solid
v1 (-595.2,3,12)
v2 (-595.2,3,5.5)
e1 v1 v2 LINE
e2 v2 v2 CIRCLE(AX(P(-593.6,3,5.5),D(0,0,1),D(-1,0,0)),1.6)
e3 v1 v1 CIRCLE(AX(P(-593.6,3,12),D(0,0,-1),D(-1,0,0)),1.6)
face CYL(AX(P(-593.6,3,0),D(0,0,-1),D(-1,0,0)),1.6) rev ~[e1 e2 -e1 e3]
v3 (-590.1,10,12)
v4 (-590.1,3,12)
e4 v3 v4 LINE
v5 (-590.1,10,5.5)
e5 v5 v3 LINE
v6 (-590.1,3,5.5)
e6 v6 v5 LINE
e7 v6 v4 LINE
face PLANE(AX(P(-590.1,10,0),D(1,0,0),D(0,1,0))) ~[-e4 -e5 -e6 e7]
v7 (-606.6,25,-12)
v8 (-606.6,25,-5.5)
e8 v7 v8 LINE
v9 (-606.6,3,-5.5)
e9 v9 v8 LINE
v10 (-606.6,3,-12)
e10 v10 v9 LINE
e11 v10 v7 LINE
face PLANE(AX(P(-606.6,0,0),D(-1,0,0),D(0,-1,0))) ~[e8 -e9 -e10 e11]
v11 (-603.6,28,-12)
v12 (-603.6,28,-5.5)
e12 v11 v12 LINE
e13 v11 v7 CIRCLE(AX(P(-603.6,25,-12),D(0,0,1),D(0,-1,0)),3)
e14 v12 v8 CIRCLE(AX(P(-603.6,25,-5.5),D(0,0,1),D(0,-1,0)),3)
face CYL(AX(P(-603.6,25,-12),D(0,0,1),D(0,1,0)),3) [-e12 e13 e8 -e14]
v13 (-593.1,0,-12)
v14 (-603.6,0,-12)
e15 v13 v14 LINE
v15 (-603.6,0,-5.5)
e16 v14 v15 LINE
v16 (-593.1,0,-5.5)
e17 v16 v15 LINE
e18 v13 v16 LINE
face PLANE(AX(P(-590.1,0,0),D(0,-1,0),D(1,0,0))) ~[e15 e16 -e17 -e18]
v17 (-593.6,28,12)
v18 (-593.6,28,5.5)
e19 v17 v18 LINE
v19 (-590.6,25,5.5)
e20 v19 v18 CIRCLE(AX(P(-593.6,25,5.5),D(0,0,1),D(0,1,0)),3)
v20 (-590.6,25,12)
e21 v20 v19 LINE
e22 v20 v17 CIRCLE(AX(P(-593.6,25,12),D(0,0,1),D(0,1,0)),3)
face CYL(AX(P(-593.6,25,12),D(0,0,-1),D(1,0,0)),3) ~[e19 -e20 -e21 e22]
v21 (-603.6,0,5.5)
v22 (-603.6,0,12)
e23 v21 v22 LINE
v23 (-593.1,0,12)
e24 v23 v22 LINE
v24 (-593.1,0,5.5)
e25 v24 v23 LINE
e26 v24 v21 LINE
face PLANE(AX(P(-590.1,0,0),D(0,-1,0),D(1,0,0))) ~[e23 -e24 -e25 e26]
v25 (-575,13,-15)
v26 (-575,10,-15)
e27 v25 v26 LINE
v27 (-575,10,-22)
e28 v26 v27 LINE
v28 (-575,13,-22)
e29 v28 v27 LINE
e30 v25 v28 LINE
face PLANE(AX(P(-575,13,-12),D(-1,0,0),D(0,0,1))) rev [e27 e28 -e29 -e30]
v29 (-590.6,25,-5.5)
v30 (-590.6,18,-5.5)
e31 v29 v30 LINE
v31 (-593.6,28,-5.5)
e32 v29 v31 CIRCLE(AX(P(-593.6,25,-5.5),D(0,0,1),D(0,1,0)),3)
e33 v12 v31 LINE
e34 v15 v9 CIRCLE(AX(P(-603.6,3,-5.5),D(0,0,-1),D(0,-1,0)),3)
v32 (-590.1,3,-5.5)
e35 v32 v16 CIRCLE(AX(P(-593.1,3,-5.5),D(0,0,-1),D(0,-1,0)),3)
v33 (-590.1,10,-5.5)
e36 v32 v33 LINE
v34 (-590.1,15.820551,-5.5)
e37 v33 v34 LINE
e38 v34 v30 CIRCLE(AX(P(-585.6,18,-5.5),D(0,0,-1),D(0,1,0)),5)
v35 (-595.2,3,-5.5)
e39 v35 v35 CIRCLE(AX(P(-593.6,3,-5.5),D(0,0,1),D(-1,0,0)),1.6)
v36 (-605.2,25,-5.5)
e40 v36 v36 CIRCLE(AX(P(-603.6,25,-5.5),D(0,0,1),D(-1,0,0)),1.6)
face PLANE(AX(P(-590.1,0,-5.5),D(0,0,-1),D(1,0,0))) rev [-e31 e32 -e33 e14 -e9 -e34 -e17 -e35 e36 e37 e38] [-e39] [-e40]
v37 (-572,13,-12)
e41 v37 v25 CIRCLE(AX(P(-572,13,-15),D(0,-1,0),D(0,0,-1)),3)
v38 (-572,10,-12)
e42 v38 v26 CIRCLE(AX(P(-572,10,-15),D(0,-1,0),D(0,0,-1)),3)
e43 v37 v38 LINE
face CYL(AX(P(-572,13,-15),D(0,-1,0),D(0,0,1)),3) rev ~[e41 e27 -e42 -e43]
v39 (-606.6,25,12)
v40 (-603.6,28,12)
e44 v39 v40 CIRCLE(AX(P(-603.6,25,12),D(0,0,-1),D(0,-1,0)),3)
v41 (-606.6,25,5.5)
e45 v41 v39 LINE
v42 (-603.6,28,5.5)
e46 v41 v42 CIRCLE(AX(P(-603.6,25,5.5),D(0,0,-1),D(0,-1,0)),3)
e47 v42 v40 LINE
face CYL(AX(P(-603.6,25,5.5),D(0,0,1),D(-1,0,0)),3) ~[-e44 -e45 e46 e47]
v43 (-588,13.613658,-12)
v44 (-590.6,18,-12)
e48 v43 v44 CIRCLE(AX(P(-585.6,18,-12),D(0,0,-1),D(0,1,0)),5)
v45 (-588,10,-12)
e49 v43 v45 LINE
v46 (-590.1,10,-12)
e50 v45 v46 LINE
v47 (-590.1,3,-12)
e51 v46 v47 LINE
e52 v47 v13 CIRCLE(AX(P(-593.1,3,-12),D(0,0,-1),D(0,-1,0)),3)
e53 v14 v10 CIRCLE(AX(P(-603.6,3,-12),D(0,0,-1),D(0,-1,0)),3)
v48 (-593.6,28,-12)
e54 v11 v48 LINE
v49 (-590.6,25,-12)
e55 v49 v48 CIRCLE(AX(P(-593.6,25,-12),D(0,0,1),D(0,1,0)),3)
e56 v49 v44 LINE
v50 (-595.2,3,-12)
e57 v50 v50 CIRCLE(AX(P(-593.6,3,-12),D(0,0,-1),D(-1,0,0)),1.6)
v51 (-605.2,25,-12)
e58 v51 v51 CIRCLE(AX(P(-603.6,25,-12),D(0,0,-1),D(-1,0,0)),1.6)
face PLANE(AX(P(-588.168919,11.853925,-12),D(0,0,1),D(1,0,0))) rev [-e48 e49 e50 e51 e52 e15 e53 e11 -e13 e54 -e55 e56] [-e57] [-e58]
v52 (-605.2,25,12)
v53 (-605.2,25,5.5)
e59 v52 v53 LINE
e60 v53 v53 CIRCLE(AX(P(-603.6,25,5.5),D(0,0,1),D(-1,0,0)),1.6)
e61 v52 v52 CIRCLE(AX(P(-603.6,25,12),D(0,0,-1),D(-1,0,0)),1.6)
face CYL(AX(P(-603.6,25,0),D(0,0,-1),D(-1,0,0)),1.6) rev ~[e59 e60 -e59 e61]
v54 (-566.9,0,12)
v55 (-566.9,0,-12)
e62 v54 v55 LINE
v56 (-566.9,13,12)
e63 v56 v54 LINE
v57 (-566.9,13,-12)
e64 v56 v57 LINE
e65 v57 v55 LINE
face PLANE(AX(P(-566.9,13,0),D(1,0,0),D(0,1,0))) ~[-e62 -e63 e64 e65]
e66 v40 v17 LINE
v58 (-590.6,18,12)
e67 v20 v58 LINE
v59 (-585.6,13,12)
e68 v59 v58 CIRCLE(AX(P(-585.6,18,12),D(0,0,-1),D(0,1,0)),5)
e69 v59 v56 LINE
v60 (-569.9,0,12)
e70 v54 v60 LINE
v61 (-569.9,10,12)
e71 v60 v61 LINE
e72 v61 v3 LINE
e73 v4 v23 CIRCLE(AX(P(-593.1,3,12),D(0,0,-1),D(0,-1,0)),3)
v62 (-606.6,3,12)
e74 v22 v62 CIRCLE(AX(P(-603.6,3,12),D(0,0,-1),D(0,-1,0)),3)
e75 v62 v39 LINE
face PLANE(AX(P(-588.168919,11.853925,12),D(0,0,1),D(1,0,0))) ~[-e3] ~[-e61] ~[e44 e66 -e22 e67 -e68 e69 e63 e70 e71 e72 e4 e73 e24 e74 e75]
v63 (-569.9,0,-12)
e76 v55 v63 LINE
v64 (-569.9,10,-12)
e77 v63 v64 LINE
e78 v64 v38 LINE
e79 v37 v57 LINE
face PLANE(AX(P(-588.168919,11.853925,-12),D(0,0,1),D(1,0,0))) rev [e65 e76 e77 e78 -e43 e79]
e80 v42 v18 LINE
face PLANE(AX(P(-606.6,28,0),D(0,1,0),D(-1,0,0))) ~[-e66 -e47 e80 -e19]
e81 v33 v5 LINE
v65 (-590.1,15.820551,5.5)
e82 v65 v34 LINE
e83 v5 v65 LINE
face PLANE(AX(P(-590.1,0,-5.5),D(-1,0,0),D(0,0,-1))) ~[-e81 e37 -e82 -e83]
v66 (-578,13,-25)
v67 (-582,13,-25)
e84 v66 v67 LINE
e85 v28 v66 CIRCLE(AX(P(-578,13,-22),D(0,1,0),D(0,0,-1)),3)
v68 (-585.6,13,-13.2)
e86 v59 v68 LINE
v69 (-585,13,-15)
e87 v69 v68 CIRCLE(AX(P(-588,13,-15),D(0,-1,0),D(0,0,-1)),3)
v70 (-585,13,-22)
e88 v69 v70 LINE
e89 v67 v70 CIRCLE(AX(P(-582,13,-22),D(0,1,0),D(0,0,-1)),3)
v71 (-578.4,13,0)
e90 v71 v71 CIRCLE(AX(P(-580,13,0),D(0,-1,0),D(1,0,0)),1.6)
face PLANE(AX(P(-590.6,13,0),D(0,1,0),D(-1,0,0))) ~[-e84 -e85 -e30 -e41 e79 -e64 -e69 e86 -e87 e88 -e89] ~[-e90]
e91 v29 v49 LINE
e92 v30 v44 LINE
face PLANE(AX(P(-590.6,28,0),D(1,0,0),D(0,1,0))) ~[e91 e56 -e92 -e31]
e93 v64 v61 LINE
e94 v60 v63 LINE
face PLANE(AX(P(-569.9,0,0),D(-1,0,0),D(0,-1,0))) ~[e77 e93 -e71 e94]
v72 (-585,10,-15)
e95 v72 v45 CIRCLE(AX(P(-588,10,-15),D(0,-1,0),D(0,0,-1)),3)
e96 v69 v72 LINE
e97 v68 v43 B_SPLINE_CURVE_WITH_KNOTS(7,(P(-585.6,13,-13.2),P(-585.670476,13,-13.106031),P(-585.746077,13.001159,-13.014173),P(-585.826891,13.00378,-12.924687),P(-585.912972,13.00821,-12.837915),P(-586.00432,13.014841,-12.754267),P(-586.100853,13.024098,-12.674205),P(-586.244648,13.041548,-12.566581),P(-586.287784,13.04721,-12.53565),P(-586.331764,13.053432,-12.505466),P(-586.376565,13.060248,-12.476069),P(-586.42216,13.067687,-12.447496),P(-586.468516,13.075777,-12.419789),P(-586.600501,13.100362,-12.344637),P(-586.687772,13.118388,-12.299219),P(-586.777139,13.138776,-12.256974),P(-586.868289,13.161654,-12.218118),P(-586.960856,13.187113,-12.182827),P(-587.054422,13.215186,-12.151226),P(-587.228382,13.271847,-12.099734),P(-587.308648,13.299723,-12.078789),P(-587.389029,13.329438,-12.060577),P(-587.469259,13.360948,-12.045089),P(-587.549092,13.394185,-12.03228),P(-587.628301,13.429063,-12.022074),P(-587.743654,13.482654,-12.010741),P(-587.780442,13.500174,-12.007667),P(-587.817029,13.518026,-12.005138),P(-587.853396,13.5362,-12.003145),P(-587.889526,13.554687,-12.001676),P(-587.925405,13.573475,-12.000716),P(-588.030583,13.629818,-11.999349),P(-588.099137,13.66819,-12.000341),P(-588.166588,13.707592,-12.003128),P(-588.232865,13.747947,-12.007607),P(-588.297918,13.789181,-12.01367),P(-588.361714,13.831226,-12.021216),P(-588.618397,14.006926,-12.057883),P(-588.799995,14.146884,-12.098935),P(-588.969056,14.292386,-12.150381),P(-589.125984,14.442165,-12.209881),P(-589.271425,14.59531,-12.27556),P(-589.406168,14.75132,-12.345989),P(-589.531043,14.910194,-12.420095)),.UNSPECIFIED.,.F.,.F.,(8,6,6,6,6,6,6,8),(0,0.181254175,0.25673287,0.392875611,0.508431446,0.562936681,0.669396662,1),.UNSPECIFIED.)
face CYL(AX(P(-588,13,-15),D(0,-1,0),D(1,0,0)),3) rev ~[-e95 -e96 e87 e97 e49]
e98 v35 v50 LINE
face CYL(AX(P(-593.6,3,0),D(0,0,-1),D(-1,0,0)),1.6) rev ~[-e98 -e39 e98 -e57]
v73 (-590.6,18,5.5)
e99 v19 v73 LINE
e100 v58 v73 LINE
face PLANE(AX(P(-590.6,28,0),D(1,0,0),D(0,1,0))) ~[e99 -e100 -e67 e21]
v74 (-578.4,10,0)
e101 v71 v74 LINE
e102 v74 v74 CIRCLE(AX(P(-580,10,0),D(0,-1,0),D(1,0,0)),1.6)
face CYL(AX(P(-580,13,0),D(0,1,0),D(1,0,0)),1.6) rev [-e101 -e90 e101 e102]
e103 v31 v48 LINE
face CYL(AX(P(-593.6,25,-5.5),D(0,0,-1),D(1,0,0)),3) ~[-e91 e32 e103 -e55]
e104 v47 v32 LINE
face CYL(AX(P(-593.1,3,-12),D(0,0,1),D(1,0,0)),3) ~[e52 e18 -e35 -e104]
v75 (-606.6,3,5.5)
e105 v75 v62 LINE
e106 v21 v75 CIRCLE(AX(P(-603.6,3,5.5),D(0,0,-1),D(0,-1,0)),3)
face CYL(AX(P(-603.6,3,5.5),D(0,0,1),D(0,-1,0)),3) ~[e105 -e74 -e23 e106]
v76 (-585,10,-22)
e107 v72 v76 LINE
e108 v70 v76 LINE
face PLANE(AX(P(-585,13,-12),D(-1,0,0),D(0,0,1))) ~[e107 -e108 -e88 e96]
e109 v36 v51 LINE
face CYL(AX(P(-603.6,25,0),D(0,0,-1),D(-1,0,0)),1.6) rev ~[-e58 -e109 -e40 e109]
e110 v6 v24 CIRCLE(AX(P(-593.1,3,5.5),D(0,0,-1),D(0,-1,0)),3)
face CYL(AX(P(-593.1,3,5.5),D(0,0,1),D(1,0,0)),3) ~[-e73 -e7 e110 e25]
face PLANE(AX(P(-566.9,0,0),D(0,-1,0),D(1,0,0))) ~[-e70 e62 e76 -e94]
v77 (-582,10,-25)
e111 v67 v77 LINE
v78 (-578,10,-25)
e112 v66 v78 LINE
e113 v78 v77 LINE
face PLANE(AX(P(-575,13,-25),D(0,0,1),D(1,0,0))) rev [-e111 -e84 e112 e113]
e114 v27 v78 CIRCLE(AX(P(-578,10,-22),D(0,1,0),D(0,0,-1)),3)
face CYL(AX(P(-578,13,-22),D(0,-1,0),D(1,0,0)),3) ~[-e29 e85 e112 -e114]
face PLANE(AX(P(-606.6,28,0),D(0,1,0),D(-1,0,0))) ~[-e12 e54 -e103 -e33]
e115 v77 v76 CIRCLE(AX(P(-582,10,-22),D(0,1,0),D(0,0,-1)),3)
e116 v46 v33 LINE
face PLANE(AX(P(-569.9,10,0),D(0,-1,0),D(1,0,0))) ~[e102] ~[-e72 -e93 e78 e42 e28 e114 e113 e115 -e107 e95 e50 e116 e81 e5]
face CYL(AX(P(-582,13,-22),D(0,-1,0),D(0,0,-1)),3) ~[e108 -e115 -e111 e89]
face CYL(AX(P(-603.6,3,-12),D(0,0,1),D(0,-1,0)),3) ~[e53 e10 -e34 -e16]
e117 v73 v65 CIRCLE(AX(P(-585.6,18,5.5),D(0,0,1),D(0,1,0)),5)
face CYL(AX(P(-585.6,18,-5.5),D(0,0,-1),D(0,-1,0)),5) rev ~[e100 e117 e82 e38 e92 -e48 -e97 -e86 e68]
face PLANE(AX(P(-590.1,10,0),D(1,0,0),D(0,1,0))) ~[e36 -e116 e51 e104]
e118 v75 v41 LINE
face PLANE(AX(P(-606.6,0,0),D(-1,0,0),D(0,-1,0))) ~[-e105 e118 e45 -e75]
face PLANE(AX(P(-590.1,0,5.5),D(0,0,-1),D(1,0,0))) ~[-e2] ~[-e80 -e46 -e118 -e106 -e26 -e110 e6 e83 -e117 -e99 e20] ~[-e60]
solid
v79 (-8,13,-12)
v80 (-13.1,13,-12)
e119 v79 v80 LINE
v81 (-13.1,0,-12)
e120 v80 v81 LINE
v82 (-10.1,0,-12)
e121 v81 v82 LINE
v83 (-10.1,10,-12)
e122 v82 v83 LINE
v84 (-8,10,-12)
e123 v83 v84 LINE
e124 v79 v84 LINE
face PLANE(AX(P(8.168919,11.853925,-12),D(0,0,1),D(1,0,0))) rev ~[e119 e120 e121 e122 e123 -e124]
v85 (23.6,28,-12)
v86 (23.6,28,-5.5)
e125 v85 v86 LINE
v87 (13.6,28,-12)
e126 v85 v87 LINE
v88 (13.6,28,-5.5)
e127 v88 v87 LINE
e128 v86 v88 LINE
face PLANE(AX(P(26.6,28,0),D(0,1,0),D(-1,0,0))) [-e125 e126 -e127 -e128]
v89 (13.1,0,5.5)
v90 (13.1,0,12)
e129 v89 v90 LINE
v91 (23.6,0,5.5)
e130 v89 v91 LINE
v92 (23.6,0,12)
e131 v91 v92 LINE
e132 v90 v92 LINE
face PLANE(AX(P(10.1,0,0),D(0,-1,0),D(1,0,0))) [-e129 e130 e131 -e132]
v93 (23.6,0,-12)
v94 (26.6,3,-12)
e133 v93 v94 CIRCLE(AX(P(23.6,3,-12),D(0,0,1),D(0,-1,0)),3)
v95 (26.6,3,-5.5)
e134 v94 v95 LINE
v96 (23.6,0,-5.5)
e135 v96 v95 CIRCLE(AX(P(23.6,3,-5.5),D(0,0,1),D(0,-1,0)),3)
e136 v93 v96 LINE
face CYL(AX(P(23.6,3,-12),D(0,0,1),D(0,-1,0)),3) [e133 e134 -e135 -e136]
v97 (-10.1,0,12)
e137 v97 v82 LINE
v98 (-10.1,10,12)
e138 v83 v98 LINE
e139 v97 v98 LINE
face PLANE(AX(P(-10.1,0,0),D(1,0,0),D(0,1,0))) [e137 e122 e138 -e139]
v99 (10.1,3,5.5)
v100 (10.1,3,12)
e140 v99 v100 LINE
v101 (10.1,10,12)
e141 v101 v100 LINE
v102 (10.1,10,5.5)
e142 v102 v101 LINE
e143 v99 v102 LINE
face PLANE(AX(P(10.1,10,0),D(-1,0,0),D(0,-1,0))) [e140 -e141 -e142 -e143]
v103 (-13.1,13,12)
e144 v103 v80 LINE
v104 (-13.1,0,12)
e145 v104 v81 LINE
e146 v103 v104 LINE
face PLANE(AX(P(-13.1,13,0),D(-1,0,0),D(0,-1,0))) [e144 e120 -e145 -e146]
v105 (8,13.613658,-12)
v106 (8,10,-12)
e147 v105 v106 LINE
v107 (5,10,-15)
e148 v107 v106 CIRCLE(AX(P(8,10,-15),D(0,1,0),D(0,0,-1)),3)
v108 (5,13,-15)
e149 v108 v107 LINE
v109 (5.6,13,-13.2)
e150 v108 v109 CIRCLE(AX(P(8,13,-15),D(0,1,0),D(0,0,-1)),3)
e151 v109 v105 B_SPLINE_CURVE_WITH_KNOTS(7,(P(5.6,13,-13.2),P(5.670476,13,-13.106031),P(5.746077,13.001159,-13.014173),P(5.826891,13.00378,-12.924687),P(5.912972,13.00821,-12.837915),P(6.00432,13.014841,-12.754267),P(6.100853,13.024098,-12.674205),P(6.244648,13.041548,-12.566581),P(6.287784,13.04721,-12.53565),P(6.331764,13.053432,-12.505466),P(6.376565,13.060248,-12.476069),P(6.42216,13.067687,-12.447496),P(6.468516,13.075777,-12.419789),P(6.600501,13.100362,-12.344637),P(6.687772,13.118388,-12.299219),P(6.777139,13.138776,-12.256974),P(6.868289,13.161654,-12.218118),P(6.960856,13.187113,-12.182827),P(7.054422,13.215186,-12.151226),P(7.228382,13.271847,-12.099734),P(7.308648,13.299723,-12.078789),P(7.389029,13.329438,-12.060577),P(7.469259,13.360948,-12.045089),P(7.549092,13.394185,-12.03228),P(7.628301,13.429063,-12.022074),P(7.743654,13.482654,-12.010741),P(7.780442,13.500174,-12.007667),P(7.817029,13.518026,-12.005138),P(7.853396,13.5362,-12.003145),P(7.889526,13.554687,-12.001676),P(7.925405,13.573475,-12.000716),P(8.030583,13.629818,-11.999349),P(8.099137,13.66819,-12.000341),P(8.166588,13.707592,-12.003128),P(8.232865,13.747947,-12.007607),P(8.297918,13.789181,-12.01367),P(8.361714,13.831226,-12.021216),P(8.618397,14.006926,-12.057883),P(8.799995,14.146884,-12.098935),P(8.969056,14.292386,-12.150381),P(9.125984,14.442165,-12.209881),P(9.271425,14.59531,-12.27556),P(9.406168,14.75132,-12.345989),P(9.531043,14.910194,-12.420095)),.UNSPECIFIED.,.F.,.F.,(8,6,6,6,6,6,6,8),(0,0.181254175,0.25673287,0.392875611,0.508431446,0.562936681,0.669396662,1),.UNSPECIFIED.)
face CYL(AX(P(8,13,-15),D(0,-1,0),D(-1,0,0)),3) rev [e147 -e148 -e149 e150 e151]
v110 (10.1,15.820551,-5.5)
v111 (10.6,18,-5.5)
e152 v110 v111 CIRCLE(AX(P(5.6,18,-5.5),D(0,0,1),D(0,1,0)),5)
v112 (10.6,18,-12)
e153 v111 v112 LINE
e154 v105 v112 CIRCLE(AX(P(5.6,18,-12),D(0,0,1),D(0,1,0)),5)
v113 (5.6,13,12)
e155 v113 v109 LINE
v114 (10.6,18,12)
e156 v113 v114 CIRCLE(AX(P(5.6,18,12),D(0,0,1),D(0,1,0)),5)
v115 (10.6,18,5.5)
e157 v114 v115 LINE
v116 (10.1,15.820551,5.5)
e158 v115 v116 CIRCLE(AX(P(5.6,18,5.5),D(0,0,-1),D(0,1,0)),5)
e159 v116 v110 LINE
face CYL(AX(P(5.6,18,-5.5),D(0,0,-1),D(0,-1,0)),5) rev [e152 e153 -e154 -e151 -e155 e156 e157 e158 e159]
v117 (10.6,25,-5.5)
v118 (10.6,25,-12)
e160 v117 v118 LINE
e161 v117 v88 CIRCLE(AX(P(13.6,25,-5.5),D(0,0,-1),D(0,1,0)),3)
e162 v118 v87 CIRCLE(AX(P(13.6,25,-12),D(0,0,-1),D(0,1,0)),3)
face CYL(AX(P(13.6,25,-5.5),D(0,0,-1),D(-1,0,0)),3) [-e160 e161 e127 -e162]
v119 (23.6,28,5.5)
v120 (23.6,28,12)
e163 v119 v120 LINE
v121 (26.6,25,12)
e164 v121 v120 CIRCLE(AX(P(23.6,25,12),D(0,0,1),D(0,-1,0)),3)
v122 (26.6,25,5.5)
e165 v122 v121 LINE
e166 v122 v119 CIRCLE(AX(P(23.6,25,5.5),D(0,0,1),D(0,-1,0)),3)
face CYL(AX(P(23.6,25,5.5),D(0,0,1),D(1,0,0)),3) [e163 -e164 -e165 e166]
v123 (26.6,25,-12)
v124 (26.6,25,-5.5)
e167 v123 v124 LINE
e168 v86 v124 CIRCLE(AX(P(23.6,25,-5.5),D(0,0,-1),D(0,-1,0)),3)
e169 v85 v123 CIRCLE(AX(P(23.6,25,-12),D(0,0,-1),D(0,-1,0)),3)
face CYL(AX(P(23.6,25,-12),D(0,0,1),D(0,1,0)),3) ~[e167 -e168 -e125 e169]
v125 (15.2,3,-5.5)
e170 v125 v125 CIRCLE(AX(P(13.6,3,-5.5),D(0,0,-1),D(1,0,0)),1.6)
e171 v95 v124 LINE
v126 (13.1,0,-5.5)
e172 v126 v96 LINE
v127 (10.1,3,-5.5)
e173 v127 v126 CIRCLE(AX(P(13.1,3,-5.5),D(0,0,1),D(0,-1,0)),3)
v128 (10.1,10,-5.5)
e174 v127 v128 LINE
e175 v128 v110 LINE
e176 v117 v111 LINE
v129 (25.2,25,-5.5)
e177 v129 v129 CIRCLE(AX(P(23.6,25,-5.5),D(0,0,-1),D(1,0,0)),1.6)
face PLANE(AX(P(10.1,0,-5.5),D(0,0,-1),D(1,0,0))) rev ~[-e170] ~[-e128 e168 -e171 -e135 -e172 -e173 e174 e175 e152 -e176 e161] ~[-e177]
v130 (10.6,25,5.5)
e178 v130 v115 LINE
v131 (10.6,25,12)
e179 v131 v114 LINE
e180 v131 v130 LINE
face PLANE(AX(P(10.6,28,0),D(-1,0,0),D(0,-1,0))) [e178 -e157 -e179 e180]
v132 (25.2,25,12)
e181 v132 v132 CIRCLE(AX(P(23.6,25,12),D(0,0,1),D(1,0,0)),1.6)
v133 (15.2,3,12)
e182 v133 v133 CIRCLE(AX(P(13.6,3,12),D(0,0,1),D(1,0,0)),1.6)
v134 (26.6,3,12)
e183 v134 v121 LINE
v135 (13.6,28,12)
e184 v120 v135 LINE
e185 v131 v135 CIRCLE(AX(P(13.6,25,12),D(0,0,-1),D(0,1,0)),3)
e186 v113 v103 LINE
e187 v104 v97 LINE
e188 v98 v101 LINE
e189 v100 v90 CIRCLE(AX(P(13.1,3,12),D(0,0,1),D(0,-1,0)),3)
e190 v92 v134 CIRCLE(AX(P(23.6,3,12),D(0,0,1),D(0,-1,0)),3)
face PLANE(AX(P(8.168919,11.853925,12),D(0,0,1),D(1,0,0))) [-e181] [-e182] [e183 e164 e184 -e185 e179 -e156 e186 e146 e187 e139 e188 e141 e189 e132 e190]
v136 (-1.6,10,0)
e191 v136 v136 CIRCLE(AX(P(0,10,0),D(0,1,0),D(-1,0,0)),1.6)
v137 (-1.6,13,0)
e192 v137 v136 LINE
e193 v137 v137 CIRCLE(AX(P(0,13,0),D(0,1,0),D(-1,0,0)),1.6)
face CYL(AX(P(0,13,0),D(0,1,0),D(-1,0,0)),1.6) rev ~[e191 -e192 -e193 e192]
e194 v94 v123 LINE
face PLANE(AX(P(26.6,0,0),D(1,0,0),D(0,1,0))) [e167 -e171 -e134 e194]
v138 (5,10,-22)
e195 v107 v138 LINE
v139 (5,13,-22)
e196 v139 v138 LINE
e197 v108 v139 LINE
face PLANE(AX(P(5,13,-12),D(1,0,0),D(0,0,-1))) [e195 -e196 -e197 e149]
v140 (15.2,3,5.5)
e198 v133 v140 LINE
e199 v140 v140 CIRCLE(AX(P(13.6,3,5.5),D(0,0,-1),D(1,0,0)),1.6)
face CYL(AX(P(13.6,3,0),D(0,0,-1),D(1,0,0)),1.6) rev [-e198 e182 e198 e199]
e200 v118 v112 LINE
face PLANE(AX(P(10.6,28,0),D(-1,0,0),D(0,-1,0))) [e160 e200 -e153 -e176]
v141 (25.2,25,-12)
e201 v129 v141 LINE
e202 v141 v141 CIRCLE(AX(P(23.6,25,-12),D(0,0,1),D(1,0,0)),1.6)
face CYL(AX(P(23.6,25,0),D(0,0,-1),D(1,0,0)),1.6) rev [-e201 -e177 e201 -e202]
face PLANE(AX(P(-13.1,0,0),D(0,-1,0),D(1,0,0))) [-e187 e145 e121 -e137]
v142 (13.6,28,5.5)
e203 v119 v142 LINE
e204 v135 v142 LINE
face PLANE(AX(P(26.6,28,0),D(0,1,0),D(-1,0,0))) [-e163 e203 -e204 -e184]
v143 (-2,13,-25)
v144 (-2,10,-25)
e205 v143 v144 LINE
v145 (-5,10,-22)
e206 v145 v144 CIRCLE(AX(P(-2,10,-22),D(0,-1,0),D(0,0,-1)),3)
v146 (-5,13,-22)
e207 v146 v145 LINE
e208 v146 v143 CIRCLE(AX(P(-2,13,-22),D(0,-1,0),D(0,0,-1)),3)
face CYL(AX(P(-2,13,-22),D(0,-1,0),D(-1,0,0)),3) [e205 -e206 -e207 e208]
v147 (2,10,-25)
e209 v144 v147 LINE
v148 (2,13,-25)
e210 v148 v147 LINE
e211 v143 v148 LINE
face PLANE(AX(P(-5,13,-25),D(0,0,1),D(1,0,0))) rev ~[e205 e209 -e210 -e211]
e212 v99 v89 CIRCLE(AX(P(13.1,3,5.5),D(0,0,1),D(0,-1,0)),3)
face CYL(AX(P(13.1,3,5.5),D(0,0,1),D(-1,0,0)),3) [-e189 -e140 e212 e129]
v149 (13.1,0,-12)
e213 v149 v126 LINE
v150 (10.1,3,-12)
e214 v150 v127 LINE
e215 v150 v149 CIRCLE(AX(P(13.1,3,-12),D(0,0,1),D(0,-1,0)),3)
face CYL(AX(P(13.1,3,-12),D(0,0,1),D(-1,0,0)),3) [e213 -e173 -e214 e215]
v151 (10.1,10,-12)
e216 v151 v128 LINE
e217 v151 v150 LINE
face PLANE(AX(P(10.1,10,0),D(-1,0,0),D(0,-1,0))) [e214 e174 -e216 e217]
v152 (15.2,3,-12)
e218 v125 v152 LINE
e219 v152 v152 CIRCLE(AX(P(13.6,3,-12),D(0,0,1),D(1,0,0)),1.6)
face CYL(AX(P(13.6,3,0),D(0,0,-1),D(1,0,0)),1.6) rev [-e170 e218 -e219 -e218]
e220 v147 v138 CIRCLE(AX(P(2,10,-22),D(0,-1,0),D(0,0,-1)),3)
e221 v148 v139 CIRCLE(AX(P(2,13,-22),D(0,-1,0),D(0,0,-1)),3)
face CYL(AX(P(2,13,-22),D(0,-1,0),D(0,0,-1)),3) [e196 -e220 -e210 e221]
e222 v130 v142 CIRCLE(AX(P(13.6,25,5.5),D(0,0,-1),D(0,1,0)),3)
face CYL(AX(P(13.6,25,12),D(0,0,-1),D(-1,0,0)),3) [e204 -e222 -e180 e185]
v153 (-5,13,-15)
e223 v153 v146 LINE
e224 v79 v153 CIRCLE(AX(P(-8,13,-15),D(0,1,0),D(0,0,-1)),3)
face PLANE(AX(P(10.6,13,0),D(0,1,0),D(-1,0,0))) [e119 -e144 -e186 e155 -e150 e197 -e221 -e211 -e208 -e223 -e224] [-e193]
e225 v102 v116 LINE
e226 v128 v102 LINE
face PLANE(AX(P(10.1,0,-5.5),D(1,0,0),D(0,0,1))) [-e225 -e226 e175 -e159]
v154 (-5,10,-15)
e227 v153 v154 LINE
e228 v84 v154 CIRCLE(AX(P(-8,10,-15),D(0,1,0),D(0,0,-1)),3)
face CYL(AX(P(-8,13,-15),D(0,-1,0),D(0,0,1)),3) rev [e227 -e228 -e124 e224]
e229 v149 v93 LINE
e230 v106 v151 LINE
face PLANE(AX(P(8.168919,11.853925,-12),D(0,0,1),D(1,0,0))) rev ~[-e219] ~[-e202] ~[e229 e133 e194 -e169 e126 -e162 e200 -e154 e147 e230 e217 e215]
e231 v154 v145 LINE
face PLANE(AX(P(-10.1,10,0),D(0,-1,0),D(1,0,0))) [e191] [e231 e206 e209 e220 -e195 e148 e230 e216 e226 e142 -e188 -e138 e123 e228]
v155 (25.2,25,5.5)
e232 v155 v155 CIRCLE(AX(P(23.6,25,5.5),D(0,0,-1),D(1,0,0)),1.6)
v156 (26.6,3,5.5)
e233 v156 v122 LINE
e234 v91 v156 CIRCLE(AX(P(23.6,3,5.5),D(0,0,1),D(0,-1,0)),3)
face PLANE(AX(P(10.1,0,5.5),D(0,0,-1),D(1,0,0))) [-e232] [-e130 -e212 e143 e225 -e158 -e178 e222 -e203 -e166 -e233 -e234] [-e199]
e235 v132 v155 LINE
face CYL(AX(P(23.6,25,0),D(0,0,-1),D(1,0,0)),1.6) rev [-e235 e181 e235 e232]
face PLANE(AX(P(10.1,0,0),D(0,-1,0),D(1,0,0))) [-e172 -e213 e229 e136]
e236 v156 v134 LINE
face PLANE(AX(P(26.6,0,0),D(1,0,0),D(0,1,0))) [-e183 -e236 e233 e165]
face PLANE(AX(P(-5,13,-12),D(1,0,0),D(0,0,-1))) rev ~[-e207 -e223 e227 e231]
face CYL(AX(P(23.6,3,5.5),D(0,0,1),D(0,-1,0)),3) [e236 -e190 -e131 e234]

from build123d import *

# Parameters (mm, degrees)
SKETCH_1_R          = 1.6
EXTRUDE_1_DEPTH     = 12
SKETCH_2_W          = 16.5
SKETCH_2_H          = 11
CUT_EXTRUDE_1_DEPTH = 41.442057317
SKETCH_3_W          = 10
SKETCH_3_H          = 13
EXTRUDE_2_DEPTH     = 3
SKETCH_4_R          = 1.6
CUT_EXTRUDE_2_DEPTH = 40.465934678
FILLET_1_R          = 3
FILLET_2_R          = 5


with BuildPart() as part:
    # 草图1 → 凸台-拉伸1 (new, symmetric)
    with BuildSketch(Plane.XY):
        Polygon((-10.1, 0), (-10.1, 10), (10.1, 10), (10.1, 0), (13.1, 0), (26.6, 0), (26.6, 28), (10.6, 28), (10.6, 13), (-13.1, 13), (-13.1, 0), align=None)
        with Locations((23.6, 25)):
            Circle(SKETCH_1_R, mode=Mode.SUBTRACT)
        with Locations((13.6, 3)):
            Circle(SKETCH_1_R, mode=Mode.SUBTRACT)
    extrude(amount=EXTRUDE_1_DEPTH, both=True)

    # 草图2 → 切除-拉伸1 (cut, through all)
    with BuildSketch(Plane.XZ):
        with Locations((18.35, 0)):
            Rectangle(SKETCH_2_W, SKETCH_2_H)
    extrude(amount=-CUT_EXTRUDE_1_DEPTH, mode=Mode.SUBTRACT)

    # 草图3 → 凸台-拉伸2 (add)
    with BuildSketch(Plane(origin=(0, 13, 0), x_dir=(1, 0, 0), z_dir=(0, 1, 0))):
        with Locations((0, 18.5)):
            Rectangle(SKETCH_3_W, SKETCH_3_H)
    extrude(amount=-EXTRUDE_2_DEPTH)

    # 草图4 → 切除-拉伸2 (cut, through all)
    with BuildSketch(Plane(origin=(0, 13, 0), x_dir=(1, 0, 0), z_dir=(0, 1, 0))):
        with Locations(Location((0, 0, 0), (0, 0, 180))):
            Circle(SKETCH_4_R)
    extrude(amount=-CUT_EXTRUDE_2_DEPTH, mode=Mode.SUBTRACT)

    # 圆角1
    fillet_1_edges = [part.edges().sort_by_distance(p)[0] for p in [
        (10.6, 28, 8.75),
        (26.6, 28, 8.75),
        (26.6, 0, 8.75),
        (10.1, 0, 8.75),
        (10.6, 28, -8.75),
        (26.6, 28, -8.75),
        (26.6, 0, -8.75),
        (10.1, 0, -8.75),
        (5, 11.5, -25),
        (5, 11.5, -12),
        (-5, 11.5, -12),
        (-5, 11.5, -25),
    ]]
    fillet(fillet_1_edges, radius=FILLET_1_R)

    # 圆角2
    fillet_2_edges = [part.edges().sort_by_distance(p)[0] for p in [
        (10.6, 13, -8.75),
    ]]
    fillet(fillet_2_edges, radius=FILLET_2_R)


with BuildPart() as body_2:
    # 镜向1: mirrored copy
    add(part.part.mirror(Plane(origin=(-290, 0, 0), x_dir=(0, 0, 1), z_dir=(1, 0, 0))))


solid = Compound([part.part, body_2.part])
